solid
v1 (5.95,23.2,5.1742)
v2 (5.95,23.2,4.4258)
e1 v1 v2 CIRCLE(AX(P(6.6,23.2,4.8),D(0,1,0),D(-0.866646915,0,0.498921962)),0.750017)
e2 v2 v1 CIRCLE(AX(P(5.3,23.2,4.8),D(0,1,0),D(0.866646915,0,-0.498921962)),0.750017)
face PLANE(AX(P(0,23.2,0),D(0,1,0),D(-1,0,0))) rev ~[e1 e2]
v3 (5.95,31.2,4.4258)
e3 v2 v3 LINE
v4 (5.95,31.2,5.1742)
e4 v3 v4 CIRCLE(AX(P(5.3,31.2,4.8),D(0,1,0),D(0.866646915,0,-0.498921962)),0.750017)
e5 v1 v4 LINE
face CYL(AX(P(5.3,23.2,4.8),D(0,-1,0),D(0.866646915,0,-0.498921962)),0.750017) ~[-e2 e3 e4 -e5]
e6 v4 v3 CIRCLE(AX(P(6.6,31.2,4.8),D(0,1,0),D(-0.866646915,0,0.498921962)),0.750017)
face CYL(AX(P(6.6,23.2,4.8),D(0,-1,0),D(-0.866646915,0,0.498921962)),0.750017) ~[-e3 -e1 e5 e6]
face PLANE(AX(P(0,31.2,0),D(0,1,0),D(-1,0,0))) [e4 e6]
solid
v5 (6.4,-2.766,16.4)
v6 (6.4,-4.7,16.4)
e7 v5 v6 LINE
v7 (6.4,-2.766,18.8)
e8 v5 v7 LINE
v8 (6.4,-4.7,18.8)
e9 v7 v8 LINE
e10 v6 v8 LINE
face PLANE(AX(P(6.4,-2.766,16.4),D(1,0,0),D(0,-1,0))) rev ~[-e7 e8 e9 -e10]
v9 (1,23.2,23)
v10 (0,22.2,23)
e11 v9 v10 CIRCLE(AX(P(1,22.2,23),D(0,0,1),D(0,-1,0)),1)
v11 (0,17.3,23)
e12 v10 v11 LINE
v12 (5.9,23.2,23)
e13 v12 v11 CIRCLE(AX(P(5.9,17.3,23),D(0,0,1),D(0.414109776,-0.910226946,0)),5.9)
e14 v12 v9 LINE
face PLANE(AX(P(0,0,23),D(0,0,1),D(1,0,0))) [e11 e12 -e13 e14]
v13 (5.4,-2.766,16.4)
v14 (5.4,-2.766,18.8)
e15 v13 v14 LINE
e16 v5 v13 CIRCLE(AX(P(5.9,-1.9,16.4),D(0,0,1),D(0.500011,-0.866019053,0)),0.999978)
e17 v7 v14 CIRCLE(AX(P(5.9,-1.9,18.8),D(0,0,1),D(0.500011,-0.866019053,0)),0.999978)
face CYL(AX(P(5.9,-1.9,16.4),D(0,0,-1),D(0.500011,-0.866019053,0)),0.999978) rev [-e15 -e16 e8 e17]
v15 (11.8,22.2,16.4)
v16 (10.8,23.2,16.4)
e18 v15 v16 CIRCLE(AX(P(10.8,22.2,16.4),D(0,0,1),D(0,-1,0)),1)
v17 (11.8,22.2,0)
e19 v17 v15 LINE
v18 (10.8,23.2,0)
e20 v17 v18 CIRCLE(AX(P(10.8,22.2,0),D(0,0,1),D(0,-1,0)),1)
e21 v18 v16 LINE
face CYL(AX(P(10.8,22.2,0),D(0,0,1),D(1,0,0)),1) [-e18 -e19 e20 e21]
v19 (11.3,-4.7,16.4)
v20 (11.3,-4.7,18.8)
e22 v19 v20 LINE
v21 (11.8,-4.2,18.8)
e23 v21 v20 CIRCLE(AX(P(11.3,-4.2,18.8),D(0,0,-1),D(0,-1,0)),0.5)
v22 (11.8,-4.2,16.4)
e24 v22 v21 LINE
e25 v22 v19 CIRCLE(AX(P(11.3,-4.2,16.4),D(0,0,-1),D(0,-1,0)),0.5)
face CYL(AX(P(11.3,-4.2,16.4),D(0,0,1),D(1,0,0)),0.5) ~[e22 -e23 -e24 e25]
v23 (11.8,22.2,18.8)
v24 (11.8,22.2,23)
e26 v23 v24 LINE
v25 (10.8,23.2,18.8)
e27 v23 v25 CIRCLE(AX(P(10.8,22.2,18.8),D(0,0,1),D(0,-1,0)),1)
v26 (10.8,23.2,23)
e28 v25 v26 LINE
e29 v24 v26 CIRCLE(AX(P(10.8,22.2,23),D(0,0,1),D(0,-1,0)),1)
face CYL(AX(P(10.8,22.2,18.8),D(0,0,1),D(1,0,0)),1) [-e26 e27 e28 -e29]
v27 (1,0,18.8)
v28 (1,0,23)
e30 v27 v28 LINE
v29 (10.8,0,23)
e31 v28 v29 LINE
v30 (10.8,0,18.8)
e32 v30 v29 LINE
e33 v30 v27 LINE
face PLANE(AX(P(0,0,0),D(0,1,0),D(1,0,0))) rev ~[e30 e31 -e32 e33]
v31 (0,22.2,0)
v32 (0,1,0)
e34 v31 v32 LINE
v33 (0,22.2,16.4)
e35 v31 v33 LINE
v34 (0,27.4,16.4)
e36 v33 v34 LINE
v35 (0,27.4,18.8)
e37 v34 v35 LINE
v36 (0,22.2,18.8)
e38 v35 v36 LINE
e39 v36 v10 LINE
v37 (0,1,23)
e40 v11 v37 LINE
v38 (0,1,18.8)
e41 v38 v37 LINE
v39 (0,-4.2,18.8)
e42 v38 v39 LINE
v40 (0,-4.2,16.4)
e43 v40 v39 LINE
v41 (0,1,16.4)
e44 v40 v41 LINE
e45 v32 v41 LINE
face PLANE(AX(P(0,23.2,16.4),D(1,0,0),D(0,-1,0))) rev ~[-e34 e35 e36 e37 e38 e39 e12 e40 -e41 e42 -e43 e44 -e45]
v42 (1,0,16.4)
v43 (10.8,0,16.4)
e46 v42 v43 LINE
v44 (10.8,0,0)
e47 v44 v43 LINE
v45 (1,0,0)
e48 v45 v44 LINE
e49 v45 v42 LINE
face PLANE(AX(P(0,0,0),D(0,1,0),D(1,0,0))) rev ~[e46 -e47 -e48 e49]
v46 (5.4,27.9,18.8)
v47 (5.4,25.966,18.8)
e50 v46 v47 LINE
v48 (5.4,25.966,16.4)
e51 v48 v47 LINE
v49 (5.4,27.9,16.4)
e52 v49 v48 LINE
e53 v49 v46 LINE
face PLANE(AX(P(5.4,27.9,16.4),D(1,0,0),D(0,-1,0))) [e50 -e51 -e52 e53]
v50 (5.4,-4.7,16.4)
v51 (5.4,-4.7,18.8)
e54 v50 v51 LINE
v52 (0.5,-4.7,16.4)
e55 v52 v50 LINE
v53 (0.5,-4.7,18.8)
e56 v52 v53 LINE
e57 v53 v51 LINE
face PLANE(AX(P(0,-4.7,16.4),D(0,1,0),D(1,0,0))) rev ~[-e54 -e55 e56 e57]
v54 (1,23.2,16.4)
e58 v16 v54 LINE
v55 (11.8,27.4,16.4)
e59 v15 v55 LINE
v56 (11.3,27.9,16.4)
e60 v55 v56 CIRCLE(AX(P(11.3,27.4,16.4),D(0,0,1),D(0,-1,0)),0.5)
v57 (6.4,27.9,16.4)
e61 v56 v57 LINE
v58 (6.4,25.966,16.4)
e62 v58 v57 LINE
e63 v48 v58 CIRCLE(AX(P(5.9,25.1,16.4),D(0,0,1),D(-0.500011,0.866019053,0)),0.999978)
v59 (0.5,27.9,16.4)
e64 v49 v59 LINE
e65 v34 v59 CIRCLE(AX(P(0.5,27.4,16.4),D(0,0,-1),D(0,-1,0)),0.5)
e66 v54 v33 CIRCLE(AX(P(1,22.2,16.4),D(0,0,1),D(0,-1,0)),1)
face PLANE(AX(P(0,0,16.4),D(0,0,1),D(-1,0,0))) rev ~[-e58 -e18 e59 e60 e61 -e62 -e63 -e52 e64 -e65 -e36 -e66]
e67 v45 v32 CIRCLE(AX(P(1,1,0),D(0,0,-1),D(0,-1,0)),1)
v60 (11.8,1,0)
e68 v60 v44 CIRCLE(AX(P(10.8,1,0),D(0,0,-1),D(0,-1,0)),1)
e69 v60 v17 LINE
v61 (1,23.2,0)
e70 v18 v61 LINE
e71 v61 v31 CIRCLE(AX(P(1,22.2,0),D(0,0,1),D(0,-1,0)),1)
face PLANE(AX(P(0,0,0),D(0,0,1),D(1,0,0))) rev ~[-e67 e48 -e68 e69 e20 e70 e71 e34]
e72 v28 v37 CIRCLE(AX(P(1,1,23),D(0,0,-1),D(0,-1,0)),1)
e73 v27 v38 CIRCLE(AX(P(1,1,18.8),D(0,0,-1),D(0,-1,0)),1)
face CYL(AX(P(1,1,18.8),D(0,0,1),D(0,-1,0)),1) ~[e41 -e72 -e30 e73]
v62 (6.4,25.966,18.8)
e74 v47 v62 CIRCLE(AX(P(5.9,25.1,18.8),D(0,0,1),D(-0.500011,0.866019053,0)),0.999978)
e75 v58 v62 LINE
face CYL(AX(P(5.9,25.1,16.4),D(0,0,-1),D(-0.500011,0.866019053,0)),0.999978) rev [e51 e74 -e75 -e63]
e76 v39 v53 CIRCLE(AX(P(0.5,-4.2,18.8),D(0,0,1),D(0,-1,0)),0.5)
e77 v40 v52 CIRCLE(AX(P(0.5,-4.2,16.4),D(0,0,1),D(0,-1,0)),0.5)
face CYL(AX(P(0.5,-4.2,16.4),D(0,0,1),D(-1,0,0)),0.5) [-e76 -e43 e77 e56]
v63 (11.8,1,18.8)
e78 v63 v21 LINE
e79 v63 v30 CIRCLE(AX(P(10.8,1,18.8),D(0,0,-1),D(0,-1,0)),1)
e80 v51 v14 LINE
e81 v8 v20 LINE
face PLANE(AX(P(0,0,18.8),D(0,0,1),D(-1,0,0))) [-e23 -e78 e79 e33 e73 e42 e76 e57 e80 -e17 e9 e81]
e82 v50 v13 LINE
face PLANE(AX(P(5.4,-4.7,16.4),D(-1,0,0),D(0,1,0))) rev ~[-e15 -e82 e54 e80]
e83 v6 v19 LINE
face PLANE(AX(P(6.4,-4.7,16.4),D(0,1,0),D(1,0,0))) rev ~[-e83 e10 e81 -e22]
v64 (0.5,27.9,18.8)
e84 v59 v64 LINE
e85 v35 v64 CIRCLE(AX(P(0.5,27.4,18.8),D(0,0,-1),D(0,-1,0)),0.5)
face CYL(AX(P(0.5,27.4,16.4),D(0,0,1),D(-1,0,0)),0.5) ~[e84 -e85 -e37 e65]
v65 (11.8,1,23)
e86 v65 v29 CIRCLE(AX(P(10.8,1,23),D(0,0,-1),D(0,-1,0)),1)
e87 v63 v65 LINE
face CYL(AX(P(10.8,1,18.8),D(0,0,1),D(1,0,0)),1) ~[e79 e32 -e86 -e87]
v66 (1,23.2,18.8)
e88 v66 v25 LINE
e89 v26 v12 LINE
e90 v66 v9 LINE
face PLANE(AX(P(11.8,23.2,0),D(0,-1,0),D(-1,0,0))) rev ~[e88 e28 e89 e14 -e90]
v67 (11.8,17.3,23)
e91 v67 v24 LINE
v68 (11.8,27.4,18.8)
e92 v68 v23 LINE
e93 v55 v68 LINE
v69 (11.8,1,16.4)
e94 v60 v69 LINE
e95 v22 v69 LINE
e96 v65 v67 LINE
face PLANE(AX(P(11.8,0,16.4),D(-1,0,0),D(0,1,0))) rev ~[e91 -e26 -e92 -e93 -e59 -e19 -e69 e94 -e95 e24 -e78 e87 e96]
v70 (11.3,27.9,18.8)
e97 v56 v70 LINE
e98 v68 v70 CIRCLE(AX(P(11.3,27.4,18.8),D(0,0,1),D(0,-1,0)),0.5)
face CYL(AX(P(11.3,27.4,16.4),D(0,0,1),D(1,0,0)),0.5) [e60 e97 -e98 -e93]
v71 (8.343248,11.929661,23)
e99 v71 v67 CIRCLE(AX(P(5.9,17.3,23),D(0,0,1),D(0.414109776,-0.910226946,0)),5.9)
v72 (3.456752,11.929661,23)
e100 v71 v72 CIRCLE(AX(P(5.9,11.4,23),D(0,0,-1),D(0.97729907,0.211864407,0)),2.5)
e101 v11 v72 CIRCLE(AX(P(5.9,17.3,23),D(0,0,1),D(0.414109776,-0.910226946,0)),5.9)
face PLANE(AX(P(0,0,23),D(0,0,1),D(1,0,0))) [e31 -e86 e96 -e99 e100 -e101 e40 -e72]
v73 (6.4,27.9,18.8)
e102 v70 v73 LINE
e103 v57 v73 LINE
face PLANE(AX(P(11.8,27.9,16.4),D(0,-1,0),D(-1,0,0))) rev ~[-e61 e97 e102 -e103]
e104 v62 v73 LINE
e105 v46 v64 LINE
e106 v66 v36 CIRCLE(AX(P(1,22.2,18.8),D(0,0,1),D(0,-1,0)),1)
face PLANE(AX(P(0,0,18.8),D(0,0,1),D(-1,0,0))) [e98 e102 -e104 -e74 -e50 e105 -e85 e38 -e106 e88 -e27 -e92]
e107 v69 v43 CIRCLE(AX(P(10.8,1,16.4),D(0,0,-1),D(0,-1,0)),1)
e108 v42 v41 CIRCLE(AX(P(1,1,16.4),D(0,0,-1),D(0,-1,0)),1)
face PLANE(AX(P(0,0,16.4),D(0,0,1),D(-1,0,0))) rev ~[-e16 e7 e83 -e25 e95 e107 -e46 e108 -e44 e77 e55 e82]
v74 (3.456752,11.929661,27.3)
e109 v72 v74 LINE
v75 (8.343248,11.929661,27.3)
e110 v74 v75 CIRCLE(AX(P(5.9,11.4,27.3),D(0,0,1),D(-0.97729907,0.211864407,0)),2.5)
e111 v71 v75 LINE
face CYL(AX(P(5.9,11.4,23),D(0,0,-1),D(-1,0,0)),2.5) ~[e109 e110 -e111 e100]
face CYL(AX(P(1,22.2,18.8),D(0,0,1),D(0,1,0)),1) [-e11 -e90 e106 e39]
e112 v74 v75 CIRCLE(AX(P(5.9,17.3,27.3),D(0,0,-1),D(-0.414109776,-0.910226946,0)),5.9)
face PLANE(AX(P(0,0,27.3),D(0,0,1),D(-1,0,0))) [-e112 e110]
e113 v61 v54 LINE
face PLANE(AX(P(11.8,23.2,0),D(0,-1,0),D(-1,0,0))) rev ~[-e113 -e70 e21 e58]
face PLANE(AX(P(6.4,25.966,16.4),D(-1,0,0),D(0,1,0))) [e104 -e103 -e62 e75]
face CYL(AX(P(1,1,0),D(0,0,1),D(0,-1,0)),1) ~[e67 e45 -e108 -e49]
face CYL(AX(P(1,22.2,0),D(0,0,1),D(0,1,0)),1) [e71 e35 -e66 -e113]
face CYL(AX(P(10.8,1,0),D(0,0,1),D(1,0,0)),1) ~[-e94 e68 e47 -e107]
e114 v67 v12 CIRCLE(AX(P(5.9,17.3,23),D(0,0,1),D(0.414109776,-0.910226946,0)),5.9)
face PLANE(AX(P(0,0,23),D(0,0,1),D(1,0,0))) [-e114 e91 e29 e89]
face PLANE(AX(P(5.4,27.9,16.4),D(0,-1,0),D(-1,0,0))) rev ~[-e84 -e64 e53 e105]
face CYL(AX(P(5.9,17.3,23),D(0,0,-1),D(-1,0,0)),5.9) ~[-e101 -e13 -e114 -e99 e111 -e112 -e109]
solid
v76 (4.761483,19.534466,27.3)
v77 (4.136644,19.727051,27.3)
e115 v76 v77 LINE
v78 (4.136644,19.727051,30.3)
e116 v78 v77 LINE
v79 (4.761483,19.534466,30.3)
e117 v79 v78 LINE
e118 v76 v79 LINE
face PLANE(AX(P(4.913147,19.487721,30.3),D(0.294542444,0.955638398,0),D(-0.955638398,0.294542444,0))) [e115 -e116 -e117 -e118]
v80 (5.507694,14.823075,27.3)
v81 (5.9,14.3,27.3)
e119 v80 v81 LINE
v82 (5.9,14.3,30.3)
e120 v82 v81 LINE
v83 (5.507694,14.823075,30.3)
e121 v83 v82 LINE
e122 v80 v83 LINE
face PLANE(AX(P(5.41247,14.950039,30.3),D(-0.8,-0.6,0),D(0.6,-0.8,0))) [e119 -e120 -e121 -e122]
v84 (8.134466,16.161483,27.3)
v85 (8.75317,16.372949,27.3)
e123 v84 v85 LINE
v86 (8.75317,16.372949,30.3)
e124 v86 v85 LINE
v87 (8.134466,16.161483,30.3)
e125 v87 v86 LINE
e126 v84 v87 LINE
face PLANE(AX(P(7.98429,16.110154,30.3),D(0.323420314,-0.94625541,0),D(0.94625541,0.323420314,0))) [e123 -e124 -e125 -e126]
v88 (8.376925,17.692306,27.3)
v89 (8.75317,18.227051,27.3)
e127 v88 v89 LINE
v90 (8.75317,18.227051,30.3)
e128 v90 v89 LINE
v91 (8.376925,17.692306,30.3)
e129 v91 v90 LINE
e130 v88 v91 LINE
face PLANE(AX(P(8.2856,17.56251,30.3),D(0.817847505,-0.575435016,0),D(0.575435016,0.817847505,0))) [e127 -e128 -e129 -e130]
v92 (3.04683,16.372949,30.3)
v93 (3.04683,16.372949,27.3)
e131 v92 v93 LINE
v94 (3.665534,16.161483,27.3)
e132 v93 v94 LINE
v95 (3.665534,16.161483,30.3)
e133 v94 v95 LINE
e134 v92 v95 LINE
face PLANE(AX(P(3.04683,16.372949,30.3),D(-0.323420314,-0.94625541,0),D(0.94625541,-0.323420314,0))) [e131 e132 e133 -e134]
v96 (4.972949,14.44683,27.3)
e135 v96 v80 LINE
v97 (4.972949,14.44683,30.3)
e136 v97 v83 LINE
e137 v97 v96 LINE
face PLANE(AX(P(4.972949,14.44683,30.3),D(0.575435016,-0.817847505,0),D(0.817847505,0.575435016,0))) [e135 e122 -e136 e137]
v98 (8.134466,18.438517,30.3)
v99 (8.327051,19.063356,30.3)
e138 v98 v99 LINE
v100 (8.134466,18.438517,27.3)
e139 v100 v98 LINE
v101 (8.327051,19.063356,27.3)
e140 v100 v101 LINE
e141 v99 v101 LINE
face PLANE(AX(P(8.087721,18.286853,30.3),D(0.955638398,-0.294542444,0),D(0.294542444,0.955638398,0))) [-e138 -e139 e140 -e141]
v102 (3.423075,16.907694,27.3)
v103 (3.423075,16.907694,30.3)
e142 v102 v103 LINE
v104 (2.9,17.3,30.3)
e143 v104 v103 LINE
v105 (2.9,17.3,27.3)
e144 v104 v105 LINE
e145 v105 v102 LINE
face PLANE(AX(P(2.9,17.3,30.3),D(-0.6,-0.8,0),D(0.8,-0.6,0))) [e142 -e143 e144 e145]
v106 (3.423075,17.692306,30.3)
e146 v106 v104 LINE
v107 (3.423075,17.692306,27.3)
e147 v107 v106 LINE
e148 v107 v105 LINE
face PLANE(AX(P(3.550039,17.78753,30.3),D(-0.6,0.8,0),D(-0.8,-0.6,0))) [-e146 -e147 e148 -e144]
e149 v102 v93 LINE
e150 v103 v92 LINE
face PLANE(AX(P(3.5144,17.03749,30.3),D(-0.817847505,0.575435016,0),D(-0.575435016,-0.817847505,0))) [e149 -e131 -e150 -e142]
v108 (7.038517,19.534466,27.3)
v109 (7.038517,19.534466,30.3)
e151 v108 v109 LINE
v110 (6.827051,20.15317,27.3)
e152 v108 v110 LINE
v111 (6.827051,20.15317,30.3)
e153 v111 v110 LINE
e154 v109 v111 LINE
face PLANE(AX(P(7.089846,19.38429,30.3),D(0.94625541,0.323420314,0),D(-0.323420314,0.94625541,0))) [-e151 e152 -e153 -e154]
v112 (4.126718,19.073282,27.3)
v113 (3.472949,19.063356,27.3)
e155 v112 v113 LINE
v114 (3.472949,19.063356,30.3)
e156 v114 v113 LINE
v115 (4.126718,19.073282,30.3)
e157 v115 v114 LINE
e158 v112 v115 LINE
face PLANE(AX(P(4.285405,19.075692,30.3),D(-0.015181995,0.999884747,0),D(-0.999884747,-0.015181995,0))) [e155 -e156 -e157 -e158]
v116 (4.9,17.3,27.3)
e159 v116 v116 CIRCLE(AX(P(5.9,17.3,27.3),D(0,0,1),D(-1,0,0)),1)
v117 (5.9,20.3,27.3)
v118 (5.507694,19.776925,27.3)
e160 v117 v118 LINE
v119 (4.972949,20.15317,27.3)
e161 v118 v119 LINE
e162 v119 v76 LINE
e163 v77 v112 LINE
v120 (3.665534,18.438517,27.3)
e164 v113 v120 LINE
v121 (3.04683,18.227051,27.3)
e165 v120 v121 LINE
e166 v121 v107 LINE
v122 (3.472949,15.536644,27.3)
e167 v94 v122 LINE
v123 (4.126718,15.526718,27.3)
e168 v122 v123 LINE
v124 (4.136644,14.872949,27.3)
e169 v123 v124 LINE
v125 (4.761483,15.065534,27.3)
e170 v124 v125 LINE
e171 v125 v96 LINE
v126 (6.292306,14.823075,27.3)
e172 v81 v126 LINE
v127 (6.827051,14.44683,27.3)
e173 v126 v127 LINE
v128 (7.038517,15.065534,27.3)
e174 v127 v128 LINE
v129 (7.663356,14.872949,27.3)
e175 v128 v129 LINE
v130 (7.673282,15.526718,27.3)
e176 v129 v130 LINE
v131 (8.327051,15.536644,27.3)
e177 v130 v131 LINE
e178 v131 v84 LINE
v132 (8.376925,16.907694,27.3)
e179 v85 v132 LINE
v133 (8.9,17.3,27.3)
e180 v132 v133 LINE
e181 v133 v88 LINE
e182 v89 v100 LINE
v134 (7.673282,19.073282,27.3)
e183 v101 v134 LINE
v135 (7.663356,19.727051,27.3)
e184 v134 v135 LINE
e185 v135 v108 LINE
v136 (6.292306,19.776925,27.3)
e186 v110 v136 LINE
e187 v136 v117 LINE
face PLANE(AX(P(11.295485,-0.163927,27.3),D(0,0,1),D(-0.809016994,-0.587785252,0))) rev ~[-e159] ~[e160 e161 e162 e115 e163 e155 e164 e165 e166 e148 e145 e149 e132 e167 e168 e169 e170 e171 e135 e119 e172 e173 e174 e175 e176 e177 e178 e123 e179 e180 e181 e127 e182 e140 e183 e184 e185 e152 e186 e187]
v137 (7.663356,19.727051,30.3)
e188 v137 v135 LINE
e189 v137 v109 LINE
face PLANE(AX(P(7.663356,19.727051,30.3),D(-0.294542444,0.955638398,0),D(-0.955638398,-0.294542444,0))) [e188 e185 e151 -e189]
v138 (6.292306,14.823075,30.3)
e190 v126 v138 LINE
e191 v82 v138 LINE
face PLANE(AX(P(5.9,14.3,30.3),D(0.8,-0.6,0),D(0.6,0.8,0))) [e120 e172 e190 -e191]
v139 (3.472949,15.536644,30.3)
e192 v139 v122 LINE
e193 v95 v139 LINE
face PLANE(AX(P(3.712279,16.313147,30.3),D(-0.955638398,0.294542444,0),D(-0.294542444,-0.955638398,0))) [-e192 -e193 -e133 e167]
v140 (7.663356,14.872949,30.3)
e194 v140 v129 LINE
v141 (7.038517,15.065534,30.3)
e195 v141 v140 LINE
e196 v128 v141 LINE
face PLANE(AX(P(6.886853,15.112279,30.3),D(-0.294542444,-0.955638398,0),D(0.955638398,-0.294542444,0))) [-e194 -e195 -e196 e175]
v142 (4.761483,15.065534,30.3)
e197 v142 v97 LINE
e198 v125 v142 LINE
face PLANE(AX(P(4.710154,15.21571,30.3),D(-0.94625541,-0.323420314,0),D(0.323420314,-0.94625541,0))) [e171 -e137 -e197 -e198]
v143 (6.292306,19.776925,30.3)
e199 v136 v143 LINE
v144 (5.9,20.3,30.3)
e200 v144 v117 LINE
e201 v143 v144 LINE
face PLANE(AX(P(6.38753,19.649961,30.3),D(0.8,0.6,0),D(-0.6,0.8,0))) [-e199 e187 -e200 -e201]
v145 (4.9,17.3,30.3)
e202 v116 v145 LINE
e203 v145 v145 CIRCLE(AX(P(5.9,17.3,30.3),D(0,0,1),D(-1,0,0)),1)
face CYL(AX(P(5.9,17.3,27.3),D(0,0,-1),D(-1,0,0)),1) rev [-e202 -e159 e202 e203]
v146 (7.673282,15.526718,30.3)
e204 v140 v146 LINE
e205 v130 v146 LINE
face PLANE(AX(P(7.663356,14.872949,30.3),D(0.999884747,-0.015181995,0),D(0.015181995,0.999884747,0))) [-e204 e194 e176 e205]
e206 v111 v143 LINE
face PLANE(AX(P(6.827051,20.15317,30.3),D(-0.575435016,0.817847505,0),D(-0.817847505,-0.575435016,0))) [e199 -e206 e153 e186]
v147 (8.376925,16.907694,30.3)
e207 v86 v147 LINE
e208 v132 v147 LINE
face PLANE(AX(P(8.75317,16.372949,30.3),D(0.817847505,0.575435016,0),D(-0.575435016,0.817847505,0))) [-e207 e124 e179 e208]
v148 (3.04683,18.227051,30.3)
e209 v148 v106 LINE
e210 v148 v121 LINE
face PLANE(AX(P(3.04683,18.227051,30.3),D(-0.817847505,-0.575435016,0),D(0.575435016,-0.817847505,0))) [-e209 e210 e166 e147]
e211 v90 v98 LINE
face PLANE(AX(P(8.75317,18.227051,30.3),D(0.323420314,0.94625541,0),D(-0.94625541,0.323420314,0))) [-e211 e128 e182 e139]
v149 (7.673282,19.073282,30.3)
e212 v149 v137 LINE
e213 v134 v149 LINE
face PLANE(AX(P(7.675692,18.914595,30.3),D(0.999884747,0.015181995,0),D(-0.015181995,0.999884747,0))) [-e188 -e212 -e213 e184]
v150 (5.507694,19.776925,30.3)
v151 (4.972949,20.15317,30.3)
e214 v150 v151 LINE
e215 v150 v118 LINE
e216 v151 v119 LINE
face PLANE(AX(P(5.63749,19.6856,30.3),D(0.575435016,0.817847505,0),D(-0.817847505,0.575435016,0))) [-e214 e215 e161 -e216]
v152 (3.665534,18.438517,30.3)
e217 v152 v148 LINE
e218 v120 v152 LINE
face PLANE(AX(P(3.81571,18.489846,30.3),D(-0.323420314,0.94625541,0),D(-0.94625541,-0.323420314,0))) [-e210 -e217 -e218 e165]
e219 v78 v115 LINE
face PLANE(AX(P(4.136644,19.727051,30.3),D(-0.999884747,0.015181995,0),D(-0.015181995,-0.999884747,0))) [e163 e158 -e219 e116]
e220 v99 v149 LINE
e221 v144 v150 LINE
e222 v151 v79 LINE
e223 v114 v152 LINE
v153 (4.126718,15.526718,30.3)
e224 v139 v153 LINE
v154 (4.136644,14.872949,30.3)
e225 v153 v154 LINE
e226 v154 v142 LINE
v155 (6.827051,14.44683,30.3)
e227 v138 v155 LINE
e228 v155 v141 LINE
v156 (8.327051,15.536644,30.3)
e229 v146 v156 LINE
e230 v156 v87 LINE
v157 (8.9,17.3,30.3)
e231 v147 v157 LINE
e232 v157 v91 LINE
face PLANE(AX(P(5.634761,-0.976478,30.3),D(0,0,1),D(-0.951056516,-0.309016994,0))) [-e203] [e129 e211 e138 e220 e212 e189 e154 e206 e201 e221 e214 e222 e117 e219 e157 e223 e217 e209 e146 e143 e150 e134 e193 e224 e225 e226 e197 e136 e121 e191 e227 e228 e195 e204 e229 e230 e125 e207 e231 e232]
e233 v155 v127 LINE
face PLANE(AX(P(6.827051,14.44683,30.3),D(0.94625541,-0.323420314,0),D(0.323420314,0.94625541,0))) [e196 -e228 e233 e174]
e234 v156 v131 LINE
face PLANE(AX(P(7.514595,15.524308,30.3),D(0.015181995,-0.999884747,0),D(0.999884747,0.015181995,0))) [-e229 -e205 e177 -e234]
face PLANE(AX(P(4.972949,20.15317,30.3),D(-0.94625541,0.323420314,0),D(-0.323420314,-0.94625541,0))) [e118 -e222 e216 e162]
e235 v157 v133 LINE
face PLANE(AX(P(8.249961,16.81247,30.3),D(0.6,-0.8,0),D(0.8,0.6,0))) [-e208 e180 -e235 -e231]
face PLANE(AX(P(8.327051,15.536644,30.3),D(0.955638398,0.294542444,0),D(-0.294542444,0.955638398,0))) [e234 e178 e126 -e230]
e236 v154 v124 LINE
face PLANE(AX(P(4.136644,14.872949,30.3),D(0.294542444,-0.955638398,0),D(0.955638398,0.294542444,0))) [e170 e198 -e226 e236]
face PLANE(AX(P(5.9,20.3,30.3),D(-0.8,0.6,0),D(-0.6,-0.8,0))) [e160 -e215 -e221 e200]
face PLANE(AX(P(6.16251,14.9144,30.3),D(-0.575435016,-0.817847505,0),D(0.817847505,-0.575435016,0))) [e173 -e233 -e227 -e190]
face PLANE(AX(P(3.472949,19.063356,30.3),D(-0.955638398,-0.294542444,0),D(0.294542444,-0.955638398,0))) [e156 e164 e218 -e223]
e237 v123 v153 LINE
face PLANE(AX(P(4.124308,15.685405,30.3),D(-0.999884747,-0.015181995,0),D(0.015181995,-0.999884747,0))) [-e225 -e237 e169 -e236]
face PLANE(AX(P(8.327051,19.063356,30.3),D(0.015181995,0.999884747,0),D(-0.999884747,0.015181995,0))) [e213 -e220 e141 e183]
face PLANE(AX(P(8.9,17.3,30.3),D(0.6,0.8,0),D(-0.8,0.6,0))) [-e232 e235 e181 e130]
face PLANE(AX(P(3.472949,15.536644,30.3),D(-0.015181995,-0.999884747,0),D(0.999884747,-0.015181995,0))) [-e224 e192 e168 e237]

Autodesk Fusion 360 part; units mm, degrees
sketch "base" plane through (0, 0, 0) normal (0, 0, 1) x (1, 0, 0)
  line L0 (0, 0) -> (11.8, 0)
  line L1 (11.8, 0) -> (11.8, 23.2)
  line L2 (11.8, 23.2) -> (0, 23.2)
  line L3 (0, 23.2) -> (0, 0)
  dimension "d1" = 11.8
  dimension "d2" = 23.2
extrude "Extrude1" add sketch "base" along normal blind 16.4 makes body 1
sketch "tabs" plane through (0, 0, 16.4) normal (0, 0, 1) x (-1, 0, 0)
  line L0 (0, -23.2) -> (0, 0)
  line L1 (0, 0) -> (-11.8, 0)
  line L2 (-11.8, 0) -> (-11.8, -23.2)
  line L3 (-11.8, -23.2) -> (0, -23.2)
  line L4 (0, -11.6) -> (-11.8, -11.6) construction
  line L5 (-11.8, -27.9) -> (0, -27.9)
  line L6 (0, -27.9) -> (0, 4.7)
  line L7 (0, 4.7) -> (-11.8, 4.7)
  line L8 (-11.8, 4.7) -> (-11.8, -27.9)
  line L9 (-11.8, -27.9) -> (0, 4.7) construction
  line L10 (0, -27.9) -> (-11.8, 4.7) construction
  line L11 (-6.4, 2.766) -> (-6.4, 4.7)
  line L12 (-6.4, 4.7) -> (-5.4, 4.7)
  line L13 (-5.4, 4.7) -> (-5.4, 2.766)
  line L14 (-5.9, 1.9) -> (-5.9, 4.7) construction
  arc A0 (-6.4, 2.766) -> (-5.4, 2.766) centre (-5.9, 1.9) ccw
  arc A1 (-5.4, -25.966) -> (-6.4, -25.966) centre (-5.9, -25.1) ccw
  line L15 (-6.4, -25.966) -> (-6.4, -27.9)
  line L16 (-6.4, -27.9) -> (-5.4, -27.9)
  line L17 (-5.4, -27.9) -> (-5.4, -25.966)
  point P0 (-5.9, -11.6)
  dimension "d33" = 32.6
  dimension "d34" = 11.8
  dimension "d35" = 2
  dimension "d36" = 13.5
  dimension "d37" = 1
extrude "Extrude8" add sketch "tabs" along normal blind 2.4 contours L0 L1 L2 L3 L6 L8 | L3 L5 L6 L8 A1 L15 L17 | L1 L6 L7 L8 L11 L13 A0 bodies 1
extrude "Extrude9" add sketch "base" along normal blind 23 bodies 1
sketch "motor" plane through (0, 0, 23) normal (0, 0, 1) x (-1, 0, 0)
  line L0 (0, -23.2) -> (0, 0)
  line L1 (0, 0) -> (-11.8, 0)
  line L2 (-11.8, 0) -> (-11.8, -23.2)
  line L3 (-11.8, -23.2) -> (0, -23.2)
  circle A0 centre (-5.9, -17.3) radius 5.9
  circle A1 centre (-5.9, -11.4) radius 2.5
  dimension "d42" = 11.8
  dimension "d43" = 5
extrude "Extrude10" add sketch "motor" along normal blind 4.3 contours A0 A1 | A0 A1 | A0 A1 bodies 1
sketch "gear" plane through (0, 0, 27.3) normal (0, 0, 1) x (-1, 0, 0)
  arc A0 (-3.4568, -11.9297) -> (-8.3432, -11.9297) centre (-5.9, -11.4) ccw
  arc A1 (-8.3432, -11.9297) -> (-3.4568, -11.9297) centre (-5.9, -17.3) ccw
  circle A2 centre (-5.9, -17.3) radius 2.4
  circle A3 centre (-5.9, -17.3) radius 1
  dimension "d46" = 4.8
  dimension "d47" = 2
extrude "Extrude11" add sketch "gear" along normal blind 3 separate body contours A2 makes body 2
sketch "tooth" plane through (0, 0, 30.3) normal (0, 0, 1) x (-1, 0, 0)
  circle A0 centre (-5.9, -17.3) radius 1
  circle A1 centre (-5.9, -17.3) radius 2.4
  line L0 (-5.9, -17.3) -> (-5.9, -28.5) construction
  line L1 (-5.15, -19.3) -> (-6.65, -19.3)
  line L2 (-6.65, -19.3) -> (-5.9, -20.3)
  line L3 (-5.9, -20.3) -> (-5.15, -19.3)
  line L4 (-5.9, -20.3) -> (-5.9, -19.3) construction
  dimension "d50" = 1
  dimension "d51" = 1.5
  dimension "d56" = 2
extrude "Extrude12" add sketch "tooth" against normal up to surface (3 mm away) contours A1 L2 L3 bodies 2
pattern_circular "C-Pattern2" count 20 over 360 about axis through (5.9, 17.3, 30.3) along (0, 0, -1) of "Extrude12"
fillet "Fillet2" radius 1 8 edges at (11.8, 0, 20.9) (0, 0, 20.9) (11.8, 0, 8.2) (0, 0, 8.2) (11.8, 23.2, 8.2) (11.8, 23.2, 20.9) (0, 23.2, 20.9) (0, 23.2, 8.2) on bodies 1
fillet "Fillet3" radius 0.5 4 edges at (0, -4.7, 17.6) (11.8, -4.7, 17.6) (11.8, 27.9, 17.6) (0, 27.9, 17.6) on bodies 1
sketch "Sketch10" plane through (0, 23.2, 0) normal (0, 1, 0) x (-1, 0, 0)
  line L0 (-1, 0) -> (-1, 16.4)
  line L1 (-1, 16.4) -> (-10.8, 16.4)
  line L2 (-10.8, 16.4) -> (-10.8, 0)
  line L3 (-10.8, 0) -> (-1, 0)
  line L4 (-10.8, 4.8) -> (-1, 4.8) construction
  arc A0 (-5.95, 4.4258) -> (-5.95, 5.1742) centre (-5.3, 4.8) ccw
  arc A1 (-5.95, 5.1742) -> (-5.95, 4.4258) centre (-6.6, 4.8) ccw
  dimension "d59" = 4.8
  dimension "d60" = 1.5
  dimension "d61" = 1.5
extrude "Extrude13" add sketch "Sketch10" along normal blind 8 separate body contours A0 A1 makes body 3
equation "d36 = ( 27 / 2 ) * 1 mm"
equation "d46 = ( 2.4 * 2 ) * 1 mm"
